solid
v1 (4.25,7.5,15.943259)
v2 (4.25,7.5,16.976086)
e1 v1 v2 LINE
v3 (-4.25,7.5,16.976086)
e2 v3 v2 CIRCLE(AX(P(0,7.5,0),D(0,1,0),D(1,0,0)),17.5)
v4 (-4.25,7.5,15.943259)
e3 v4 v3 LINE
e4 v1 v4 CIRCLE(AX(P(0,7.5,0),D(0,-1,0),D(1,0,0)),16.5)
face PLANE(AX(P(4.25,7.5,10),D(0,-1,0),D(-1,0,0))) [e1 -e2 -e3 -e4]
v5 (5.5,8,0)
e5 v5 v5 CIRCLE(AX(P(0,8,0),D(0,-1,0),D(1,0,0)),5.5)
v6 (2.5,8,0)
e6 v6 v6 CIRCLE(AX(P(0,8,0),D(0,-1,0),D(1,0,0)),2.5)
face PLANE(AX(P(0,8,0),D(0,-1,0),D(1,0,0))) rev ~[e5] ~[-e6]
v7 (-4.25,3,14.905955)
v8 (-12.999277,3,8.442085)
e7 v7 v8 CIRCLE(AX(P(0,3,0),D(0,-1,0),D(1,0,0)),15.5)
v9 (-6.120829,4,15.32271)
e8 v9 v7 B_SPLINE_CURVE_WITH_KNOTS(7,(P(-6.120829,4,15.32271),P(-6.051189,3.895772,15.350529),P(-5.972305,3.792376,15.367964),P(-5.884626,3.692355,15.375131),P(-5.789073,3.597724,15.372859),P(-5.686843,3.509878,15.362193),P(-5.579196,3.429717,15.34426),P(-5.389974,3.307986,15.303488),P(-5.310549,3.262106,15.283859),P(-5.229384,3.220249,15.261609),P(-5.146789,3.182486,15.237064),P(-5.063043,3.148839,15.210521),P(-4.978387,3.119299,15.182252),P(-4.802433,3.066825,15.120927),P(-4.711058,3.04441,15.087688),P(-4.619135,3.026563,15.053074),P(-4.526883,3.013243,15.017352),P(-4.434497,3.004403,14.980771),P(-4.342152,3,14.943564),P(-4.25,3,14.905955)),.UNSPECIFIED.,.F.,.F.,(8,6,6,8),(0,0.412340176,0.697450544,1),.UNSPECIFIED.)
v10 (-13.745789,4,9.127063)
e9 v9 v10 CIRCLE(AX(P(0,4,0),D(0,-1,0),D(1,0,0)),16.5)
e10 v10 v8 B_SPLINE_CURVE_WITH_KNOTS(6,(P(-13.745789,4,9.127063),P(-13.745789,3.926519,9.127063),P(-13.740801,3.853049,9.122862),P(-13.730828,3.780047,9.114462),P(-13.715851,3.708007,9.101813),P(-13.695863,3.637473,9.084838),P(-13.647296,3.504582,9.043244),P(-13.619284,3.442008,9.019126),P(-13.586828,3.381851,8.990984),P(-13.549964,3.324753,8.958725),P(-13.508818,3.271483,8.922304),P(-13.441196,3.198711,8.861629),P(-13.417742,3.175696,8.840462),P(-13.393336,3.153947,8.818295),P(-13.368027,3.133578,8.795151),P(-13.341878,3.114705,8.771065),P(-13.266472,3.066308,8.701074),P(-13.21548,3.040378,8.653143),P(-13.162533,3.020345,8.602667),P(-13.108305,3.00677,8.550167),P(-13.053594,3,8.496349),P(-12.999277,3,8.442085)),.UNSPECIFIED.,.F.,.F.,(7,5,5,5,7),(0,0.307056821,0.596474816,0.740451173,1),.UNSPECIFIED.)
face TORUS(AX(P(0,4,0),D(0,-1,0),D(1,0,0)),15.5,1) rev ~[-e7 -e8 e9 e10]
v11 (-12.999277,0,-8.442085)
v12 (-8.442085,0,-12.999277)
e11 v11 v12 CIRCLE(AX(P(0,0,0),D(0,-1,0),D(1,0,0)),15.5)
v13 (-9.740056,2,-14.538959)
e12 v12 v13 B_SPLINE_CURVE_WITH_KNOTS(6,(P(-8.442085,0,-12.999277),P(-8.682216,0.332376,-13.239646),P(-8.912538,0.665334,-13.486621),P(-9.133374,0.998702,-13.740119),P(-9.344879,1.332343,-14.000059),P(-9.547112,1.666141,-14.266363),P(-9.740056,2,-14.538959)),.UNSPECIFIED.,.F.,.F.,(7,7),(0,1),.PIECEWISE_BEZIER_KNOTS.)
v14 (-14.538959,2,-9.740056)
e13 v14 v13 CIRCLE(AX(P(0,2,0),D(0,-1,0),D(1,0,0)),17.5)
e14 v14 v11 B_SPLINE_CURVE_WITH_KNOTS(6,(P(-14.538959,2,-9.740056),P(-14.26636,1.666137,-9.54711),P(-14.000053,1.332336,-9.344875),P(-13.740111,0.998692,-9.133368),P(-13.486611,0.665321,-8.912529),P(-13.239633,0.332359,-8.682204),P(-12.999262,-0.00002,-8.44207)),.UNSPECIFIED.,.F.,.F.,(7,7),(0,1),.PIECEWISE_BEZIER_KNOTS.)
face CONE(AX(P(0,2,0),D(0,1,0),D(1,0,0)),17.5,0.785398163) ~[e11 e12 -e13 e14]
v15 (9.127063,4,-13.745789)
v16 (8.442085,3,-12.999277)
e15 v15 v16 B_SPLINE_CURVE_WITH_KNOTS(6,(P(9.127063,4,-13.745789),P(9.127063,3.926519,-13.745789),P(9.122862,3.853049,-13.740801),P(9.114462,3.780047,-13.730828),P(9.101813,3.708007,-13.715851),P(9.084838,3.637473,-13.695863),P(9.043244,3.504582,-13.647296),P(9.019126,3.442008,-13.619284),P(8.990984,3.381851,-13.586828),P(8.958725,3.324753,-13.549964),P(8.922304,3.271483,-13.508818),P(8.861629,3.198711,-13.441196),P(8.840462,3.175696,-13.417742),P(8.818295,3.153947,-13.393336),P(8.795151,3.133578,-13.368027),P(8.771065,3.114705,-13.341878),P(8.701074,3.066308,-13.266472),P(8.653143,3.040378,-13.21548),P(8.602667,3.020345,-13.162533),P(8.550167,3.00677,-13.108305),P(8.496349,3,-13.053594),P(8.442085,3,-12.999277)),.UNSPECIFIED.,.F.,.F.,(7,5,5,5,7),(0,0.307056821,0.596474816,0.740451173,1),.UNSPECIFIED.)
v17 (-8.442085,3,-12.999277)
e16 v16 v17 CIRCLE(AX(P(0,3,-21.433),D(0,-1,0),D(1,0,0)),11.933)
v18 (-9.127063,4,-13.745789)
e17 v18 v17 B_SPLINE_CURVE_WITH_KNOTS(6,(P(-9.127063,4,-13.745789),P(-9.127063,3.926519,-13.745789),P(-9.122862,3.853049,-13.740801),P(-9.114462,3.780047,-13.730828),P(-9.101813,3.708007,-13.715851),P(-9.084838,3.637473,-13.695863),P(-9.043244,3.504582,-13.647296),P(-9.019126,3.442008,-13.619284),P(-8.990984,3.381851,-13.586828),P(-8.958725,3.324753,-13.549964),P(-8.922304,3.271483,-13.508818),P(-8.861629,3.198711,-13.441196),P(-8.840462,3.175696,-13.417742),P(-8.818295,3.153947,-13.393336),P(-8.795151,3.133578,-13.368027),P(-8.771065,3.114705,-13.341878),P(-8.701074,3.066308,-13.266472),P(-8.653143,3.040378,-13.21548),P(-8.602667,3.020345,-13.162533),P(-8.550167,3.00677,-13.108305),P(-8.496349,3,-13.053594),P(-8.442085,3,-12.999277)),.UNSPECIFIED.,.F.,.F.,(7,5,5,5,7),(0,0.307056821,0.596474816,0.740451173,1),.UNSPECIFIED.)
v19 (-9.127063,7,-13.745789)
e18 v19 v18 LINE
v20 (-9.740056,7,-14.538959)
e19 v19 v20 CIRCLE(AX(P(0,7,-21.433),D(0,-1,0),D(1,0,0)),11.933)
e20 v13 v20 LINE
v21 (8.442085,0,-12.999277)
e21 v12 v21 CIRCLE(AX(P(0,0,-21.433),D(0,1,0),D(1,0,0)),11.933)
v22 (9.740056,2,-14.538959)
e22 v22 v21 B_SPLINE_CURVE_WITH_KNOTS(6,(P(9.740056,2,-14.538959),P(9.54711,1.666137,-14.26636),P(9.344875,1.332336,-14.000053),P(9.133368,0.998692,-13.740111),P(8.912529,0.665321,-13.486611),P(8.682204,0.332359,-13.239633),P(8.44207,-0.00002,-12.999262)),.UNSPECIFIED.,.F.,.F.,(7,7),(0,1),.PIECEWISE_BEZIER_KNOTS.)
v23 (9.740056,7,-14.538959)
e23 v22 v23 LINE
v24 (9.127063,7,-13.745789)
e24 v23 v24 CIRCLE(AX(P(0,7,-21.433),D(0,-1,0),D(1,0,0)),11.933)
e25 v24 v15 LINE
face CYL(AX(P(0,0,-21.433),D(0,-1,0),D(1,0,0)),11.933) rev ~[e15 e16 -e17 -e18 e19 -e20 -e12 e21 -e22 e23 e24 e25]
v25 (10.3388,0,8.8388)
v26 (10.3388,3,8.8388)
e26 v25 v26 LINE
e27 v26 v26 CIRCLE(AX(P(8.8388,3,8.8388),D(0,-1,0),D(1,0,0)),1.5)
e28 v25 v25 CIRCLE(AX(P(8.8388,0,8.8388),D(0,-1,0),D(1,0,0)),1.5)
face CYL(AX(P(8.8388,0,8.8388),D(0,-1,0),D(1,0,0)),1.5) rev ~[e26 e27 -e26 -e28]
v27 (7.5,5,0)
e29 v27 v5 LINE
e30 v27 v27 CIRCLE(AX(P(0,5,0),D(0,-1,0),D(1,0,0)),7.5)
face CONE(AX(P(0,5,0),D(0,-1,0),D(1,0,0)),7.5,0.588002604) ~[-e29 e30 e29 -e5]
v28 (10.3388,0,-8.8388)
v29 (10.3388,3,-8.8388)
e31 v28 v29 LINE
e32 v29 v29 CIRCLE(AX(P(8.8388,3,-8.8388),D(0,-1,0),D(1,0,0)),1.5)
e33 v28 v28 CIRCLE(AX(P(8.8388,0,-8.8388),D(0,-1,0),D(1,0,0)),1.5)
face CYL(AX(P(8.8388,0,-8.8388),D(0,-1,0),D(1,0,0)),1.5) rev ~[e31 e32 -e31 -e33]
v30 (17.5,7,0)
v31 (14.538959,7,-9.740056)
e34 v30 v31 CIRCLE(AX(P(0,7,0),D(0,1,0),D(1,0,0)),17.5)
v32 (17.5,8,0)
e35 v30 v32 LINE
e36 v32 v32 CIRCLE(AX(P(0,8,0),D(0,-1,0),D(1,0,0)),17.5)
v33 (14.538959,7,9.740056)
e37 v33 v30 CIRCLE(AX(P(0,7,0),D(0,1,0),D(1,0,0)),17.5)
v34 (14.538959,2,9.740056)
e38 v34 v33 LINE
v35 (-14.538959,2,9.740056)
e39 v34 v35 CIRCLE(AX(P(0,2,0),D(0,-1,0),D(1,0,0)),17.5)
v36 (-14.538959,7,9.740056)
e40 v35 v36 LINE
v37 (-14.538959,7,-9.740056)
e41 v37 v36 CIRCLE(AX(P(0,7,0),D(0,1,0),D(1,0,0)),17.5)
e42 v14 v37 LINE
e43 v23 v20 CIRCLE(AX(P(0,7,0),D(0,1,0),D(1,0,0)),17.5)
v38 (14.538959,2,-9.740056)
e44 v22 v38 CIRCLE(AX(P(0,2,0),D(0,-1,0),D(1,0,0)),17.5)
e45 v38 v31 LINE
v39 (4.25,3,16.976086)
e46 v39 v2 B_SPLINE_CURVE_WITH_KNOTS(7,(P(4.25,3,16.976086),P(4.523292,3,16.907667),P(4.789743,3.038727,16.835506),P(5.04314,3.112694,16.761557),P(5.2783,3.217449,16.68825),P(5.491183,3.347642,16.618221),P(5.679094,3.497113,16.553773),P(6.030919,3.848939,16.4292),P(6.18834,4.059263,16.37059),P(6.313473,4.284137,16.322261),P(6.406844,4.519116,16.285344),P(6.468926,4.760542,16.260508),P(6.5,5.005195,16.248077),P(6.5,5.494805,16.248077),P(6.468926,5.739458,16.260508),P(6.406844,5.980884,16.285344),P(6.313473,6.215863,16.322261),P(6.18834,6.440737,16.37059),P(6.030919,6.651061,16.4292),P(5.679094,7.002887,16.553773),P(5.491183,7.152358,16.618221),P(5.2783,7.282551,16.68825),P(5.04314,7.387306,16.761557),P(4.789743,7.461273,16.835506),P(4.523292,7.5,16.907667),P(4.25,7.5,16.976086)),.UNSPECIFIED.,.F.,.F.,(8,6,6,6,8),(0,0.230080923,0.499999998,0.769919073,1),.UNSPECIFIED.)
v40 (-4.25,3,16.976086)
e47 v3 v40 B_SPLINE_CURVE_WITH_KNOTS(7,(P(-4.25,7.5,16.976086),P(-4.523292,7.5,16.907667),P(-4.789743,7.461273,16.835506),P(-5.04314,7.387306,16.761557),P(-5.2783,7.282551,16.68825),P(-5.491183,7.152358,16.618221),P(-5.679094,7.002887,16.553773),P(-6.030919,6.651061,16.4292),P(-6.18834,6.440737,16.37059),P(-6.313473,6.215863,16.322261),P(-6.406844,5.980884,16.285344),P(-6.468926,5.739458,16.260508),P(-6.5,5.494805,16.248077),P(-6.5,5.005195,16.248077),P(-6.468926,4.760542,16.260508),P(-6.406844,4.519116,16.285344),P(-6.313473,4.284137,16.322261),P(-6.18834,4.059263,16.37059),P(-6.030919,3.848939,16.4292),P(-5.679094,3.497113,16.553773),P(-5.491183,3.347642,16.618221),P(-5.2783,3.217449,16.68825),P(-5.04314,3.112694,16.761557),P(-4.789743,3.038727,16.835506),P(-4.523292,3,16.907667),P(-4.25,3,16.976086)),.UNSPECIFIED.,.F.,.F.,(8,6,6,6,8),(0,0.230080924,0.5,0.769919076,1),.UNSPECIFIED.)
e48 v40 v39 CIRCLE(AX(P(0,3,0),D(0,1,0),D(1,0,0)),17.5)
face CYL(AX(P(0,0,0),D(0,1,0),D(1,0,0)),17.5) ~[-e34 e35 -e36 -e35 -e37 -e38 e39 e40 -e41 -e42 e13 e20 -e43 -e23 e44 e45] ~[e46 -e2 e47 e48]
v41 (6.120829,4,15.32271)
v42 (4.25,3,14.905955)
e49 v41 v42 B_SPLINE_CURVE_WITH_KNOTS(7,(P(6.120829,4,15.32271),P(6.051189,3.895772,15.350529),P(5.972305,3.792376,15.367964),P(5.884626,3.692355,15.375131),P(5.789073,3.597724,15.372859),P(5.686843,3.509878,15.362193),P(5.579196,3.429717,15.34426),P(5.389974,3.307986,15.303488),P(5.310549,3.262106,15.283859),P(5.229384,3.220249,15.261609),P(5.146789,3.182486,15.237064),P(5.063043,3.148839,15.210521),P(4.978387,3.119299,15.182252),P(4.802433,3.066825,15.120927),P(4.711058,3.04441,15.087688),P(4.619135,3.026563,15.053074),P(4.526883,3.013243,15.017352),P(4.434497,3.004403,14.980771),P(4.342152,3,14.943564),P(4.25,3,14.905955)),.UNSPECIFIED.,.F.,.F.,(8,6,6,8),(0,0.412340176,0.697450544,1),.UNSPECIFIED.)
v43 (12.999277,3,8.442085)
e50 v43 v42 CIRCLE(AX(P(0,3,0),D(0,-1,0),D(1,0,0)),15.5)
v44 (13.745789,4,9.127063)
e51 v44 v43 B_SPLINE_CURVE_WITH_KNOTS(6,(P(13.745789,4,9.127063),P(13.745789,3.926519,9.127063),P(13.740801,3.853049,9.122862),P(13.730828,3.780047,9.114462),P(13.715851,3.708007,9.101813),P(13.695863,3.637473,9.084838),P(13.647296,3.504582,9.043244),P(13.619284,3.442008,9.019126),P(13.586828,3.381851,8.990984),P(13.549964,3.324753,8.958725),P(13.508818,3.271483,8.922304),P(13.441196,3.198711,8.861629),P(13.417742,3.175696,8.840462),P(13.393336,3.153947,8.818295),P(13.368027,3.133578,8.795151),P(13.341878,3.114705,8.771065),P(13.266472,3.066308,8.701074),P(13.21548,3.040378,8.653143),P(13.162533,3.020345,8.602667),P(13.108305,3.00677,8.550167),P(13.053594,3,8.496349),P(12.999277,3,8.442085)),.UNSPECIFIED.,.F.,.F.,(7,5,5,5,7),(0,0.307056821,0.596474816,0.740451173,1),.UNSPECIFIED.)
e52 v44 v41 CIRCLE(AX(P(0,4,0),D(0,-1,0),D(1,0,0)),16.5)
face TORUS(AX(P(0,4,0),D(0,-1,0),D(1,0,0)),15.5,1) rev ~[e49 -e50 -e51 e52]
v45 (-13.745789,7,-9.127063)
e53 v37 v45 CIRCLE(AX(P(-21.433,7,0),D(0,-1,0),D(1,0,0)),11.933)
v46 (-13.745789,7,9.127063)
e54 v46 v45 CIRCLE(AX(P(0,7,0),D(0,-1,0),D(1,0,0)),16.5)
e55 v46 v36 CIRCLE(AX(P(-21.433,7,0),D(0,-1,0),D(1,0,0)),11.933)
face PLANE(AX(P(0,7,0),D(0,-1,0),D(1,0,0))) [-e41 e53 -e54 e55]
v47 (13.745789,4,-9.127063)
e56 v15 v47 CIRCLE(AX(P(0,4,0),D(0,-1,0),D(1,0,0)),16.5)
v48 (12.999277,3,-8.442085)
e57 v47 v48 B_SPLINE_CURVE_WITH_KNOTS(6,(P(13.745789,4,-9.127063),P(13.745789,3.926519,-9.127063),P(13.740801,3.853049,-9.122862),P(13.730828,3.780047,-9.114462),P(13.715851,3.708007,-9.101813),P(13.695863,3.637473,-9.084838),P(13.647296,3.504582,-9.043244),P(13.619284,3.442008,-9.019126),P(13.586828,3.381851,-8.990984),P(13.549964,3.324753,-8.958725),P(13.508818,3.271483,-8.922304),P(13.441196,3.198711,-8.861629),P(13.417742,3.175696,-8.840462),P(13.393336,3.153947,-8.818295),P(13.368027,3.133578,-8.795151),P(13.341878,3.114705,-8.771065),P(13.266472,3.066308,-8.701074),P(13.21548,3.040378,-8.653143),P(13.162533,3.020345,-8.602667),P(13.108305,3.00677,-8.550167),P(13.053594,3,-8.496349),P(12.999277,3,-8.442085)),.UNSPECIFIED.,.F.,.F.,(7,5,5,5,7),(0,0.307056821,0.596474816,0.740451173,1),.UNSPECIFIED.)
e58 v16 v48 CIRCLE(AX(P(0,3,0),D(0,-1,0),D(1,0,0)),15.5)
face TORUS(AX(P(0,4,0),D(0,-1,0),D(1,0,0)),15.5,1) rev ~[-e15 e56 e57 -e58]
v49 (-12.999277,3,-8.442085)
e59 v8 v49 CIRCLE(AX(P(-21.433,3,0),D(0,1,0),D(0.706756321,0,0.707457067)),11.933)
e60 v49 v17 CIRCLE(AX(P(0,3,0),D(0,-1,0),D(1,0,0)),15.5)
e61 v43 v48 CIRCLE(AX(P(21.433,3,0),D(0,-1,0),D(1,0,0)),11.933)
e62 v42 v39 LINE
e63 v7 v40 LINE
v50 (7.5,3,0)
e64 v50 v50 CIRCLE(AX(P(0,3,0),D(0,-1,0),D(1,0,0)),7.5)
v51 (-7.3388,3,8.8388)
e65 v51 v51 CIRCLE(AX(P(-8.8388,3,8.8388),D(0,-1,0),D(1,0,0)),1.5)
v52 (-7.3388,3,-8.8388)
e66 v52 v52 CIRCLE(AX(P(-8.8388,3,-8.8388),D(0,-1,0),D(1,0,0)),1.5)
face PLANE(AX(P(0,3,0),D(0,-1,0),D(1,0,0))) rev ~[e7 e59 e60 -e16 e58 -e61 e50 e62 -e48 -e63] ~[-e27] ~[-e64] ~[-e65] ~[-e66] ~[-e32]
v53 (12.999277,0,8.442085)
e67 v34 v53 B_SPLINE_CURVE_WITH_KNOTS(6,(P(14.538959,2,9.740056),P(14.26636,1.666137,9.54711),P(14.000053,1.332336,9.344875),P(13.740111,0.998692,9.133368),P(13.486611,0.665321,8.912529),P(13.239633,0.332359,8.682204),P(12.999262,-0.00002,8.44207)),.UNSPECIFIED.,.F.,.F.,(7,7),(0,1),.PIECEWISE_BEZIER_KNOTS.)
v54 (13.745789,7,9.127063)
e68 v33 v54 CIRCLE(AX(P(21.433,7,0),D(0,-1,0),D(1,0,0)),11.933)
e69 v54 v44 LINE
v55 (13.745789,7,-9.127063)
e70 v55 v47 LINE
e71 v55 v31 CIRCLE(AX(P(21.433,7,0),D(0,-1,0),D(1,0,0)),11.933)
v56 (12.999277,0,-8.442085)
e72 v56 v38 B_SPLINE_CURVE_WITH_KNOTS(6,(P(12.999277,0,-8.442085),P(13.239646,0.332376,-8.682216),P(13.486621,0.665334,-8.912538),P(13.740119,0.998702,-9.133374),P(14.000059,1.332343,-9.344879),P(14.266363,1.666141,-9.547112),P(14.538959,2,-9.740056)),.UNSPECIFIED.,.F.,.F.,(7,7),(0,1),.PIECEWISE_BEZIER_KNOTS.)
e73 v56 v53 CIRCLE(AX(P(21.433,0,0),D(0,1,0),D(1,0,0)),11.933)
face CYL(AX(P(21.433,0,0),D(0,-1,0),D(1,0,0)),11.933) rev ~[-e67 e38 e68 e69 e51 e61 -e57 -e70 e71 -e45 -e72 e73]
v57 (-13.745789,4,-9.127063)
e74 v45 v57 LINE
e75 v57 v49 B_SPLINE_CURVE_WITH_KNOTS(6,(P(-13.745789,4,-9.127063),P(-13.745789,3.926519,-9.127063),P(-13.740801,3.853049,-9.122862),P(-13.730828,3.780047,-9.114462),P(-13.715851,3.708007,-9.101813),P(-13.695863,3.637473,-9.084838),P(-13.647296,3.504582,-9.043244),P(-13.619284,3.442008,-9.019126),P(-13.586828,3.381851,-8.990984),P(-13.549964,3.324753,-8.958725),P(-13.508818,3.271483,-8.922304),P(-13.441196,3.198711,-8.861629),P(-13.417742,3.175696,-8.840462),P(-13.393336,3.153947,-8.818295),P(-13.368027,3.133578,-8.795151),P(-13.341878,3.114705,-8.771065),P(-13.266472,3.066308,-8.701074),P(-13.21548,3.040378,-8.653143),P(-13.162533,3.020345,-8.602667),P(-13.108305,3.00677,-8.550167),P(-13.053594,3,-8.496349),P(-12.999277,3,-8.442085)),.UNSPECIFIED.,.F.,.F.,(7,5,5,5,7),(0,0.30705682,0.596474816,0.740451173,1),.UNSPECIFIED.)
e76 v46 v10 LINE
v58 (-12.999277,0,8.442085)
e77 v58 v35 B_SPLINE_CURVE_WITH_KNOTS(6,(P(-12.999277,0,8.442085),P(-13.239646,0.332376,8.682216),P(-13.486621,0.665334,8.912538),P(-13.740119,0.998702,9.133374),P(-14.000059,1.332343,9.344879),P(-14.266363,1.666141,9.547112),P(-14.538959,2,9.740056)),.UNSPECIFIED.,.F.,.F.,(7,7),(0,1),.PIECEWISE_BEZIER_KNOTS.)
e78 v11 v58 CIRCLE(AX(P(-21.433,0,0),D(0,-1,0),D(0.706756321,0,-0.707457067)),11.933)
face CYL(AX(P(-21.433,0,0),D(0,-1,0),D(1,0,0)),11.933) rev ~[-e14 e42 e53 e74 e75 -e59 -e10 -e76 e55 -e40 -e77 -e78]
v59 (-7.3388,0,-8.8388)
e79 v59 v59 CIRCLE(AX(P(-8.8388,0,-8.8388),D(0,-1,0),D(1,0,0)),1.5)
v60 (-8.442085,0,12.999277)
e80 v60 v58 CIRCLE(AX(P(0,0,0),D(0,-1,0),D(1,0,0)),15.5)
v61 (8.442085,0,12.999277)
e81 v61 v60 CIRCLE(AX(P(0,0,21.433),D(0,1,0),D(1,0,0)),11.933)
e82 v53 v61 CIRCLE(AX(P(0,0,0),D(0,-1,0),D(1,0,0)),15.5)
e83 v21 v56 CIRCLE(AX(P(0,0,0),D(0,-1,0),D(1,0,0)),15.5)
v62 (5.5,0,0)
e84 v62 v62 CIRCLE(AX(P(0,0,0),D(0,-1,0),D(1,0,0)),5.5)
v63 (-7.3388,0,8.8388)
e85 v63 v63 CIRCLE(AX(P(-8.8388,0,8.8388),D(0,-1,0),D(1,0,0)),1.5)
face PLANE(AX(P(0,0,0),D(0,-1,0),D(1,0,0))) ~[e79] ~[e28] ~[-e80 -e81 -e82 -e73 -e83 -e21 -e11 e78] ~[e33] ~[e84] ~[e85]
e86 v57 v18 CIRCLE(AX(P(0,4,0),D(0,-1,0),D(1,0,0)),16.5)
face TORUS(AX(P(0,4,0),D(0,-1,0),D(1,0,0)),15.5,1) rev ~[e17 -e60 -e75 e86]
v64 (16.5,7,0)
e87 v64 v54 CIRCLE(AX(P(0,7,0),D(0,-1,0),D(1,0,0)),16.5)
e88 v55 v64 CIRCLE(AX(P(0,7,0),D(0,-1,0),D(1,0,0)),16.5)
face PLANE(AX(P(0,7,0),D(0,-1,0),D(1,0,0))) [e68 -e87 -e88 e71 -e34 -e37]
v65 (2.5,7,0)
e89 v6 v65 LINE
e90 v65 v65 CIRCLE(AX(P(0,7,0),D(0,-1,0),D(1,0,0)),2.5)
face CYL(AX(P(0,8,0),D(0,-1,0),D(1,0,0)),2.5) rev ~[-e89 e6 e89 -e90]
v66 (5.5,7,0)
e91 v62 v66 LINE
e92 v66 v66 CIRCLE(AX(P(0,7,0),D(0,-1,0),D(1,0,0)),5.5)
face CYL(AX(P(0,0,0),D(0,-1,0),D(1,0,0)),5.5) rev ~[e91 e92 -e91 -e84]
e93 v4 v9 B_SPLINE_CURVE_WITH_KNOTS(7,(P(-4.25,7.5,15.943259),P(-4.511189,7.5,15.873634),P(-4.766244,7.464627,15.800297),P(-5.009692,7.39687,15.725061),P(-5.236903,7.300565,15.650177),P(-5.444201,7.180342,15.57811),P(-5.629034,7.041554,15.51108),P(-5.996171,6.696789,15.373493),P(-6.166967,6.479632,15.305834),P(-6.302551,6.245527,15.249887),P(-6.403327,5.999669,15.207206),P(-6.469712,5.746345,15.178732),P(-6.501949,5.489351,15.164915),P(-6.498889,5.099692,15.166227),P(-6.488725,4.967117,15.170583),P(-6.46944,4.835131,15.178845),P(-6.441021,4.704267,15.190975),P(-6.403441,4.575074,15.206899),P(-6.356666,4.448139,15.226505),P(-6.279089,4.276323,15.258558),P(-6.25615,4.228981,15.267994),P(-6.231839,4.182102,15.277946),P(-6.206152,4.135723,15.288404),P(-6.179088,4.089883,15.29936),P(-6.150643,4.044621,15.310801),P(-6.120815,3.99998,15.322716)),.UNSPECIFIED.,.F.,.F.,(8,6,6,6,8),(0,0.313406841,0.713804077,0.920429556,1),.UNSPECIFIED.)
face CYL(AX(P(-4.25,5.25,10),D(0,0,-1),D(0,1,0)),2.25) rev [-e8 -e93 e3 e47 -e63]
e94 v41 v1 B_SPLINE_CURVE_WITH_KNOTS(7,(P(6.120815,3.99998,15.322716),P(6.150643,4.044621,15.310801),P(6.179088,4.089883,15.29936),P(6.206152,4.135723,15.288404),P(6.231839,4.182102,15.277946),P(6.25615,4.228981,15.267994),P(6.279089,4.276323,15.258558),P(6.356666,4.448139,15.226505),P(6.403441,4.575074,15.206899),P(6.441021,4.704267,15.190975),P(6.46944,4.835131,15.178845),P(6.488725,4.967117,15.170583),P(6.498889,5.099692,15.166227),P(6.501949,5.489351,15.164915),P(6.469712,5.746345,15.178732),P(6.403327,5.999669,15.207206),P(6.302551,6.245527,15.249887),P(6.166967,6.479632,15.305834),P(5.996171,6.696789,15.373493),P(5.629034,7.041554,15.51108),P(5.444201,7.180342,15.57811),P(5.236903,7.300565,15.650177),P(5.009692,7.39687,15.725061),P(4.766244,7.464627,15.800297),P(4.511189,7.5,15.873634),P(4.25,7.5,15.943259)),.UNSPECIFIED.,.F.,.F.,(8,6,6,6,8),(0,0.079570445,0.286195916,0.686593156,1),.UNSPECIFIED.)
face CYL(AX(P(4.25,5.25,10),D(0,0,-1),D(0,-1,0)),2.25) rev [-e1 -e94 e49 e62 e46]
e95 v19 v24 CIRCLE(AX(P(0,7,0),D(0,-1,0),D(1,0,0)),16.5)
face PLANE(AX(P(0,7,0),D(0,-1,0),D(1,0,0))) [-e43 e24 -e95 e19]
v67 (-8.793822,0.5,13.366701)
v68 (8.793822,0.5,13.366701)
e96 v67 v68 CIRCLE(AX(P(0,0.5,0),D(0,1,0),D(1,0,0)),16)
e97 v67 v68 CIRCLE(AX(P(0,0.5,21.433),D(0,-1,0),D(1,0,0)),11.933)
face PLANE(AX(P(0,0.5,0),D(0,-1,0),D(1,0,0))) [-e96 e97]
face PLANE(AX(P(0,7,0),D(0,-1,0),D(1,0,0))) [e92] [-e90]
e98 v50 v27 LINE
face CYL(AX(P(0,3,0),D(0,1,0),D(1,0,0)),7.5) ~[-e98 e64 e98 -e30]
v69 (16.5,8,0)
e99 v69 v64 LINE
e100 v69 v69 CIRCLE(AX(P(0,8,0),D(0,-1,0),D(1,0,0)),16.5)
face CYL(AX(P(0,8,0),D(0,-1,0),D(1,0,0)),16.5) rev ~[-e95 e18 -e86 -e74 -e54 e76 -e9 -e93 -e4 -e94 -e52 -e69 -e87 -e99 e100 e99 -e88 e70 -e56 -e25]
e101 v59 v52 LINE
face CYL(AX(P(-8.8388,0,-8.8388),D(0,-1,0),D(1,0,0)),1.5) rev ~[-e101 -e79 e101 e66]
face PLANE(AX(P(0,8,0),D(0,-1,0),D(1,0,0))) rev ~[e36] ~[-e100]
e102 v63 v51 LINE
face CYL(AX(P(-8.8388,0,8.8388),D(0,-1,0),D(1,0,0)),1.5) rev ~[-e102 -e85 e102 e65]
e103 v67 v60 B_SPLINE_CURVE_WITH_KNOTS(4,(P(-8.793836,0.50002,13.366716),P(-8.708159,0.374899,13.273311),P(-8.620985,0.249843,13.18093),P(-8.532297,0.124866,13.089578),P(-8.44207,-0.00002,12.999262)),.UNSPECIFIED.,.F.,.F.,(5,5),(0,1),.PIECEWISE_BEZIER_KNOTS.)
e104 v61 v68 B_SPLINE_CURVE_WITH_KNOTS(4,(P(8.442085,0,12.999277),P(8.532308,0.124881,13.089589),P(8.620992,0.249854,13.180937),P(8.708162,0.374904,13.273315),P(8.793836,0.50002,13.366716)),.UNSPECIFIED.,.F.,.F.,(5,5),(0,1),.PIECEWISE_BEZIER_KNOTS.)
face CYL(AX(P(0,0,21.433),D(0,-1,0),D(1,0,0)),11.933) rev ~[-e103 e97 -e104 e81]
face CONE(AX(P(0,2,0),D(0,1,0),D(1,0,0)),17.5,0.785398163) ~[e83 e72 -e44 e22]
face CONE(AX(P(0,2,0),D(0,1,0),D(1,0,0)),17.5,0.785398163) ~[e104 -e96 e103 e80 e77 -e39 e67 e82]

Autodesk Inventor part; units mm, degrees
ref_plane "YZ Plane" through (0, 0, 0) normal (1, 0, 0) x (0, 1, 0)
ref_plane "XZ Plane" through (0, 0, 0) normal (0, 1, 0) x (-1, 0, 0)
sketch "Sketch1" plane through (0, 0, 0) normal (0, 0, 1) x (1, 0, 0)
  line L0 (0, 0) -> (17.5, 0)
  line L1 (17.5, 0) -> (17.5, 8)
  line L2 (17.5, 8) -> (0, 8)
  line L3 (0, 8) -> (0, 0)
  line L4 (0, 8) -> (16.5, 8)
  line L5 (16.5, 8) -> (16.5, 3)
  line L6 (16.5, 3) -> (0, 3)
  line L7 (0, 3) -> (0, 8)
  line L8 (0, 3) -> (7.5, 3)
  line L9 (7.5, 3) -> (7.5, 5)
  line L10 (7.5, 5) -> (0, 5)
  line L11 (0, 5) -> (0, 3)
  line L12 (7.5, 5) -> (5.5, 8)
  line L13 (0, 8) -> (2.5, 8)
  line L14 (2.5, 8) -> (2.5, 0)
  line L15 (2.5, 0) -> (0, 0)
  line L16 (0, 0) -> (0, 8)
  point P0 (16.5, 5.5)
  dimension "d0" = 17.5
  dimension "d1" = 8
  dimension "d2" = 1
  dimension "d3" = 3
  dimension "d4" = 7.5
  dimension "d5" = 2
  dimension "d6" = 5.5
  dimension "d7" = 2.5
revolve "Revolution1" add sketch "Sketch1" angle 360 about axis through (0, 8, 0) along (0, -1, 0) contours L14 L6 L5 L2 L1 L0 | L14 L10 L9 L6 | L14 L2 L12 L10
chamfer "Chamfer1" distance 2 angle 45 1 edges at (-17.5, 0, 0)
fillet "Fillet1" radius 1 1 edges at (-16.5, 3, 0)
sketch "Sketch2" plane through (0, 0, 0) normal (0, -1, 0) x (1, 0, 0)
  circle A0 centre (0, 0) radius 12.5 construction
  line L0 (0, 12.5) -> (0, 0) construction
  circle A1 centre (0, 0) radius 2.5 projected
  circle A2 centre (0, 0) radius 15.5 projected
  circle A3 centre (0, 0) radius 15.5 projected
  line L1 (0, 0) -> (-8.8388, 8.8388) construction
  circle A4 centre (-8.8388, 8.8388) radius 1.5
  circle A5 centre (-8.8388, -8.8388) radius 1.5
  circle A6 centre (8.8388, -8.8388) radius 1.5
  circle A7 centre (8.8388, 8.8388) radius 1.5
  line L2 (-8.4184, 13.0146) -> (-13.0146, 8.4184) construction
  line L3 (8.4184, 13.0146) -> (13.0146, 8.4184) construction
  circle A8 centre (0, 0) radius 9.5 construction
  circle A9 centre (0, 21.433) radius 11.933
  circle A10 centre (-21.433, 0) radius 11.933
  circle A11 centre (0, -21.433) radius 11.933
  circle A12 centre (21.433, 0) radius 11.933
  circle A13 centre (0, 0) radius 5.5
  point P0 (-10.7165, 10.7165)
  point P1 (-8.4421, -12.9993)
  point P2 (8.4421, -12.9993)
  dimension "d13" = 25
  dimension "d15" = 45
  dimension "d16" = 3
  dimension "d19" = 360
  dimension "d21" = 6.5
  dimension "d22" = 19
  dimension "d25" = 360
  dimension "d27" = 11
extrude "Extrusion1" cut sketch "Sketch2" against normal blind 7 contours A1 | A2 A12 | A2 A12 | A11 A2 | A2 A11 | A10 A2 | A2 A10 | A4 | A5 | A6 | A7 | A13
extrude "Extrusion2" cut sketch "Sketch2" against normal blind 0.5 contours A9 A2 | A2 A9
ref_plane "Work Plane1" through (0, 0, 10) normal (0, 0, 1) x (1, 0, 0)
sketch "Sketch3" plane through (0, 0, 10) normal (0, 0, 1) x (1, 0, 0)
  line L0 (-17.5, 8) -> (17.5, 8) projected
  line L1 (0, 8) -> (0, 0) construction
  line L2 (-4.25, 5.25) -> (4.25, 5.25) construction
  line L3 (5.5, 0) -> (-5.5, 0) projected
  line L4 (-4.25, 3) -> (4.25, 3)
  line L5 (4.25, 7.5) -> (-4.25, 7.5)
  arc A0 (-4.25, 7.5) -> (-4.25, 3) centre (-4.25, 5.25) ccw
  arc A1 (4.25, 3) -> (4.25, 7.5) centre (4.25, 5.25) ccw
  line L6 (8.7938, 0.5) -> (-8.7938, 0.5) projected
  point P0 (0, 5.25)
  dimension "d33" = 2.5
  dimension "d34" = 2.25
  dimension "d35" = 8.5
extrude "Extrusion3" cut sketch "Sketch3" along normal through all
properties part number "Base" material "Stainless Steel"
